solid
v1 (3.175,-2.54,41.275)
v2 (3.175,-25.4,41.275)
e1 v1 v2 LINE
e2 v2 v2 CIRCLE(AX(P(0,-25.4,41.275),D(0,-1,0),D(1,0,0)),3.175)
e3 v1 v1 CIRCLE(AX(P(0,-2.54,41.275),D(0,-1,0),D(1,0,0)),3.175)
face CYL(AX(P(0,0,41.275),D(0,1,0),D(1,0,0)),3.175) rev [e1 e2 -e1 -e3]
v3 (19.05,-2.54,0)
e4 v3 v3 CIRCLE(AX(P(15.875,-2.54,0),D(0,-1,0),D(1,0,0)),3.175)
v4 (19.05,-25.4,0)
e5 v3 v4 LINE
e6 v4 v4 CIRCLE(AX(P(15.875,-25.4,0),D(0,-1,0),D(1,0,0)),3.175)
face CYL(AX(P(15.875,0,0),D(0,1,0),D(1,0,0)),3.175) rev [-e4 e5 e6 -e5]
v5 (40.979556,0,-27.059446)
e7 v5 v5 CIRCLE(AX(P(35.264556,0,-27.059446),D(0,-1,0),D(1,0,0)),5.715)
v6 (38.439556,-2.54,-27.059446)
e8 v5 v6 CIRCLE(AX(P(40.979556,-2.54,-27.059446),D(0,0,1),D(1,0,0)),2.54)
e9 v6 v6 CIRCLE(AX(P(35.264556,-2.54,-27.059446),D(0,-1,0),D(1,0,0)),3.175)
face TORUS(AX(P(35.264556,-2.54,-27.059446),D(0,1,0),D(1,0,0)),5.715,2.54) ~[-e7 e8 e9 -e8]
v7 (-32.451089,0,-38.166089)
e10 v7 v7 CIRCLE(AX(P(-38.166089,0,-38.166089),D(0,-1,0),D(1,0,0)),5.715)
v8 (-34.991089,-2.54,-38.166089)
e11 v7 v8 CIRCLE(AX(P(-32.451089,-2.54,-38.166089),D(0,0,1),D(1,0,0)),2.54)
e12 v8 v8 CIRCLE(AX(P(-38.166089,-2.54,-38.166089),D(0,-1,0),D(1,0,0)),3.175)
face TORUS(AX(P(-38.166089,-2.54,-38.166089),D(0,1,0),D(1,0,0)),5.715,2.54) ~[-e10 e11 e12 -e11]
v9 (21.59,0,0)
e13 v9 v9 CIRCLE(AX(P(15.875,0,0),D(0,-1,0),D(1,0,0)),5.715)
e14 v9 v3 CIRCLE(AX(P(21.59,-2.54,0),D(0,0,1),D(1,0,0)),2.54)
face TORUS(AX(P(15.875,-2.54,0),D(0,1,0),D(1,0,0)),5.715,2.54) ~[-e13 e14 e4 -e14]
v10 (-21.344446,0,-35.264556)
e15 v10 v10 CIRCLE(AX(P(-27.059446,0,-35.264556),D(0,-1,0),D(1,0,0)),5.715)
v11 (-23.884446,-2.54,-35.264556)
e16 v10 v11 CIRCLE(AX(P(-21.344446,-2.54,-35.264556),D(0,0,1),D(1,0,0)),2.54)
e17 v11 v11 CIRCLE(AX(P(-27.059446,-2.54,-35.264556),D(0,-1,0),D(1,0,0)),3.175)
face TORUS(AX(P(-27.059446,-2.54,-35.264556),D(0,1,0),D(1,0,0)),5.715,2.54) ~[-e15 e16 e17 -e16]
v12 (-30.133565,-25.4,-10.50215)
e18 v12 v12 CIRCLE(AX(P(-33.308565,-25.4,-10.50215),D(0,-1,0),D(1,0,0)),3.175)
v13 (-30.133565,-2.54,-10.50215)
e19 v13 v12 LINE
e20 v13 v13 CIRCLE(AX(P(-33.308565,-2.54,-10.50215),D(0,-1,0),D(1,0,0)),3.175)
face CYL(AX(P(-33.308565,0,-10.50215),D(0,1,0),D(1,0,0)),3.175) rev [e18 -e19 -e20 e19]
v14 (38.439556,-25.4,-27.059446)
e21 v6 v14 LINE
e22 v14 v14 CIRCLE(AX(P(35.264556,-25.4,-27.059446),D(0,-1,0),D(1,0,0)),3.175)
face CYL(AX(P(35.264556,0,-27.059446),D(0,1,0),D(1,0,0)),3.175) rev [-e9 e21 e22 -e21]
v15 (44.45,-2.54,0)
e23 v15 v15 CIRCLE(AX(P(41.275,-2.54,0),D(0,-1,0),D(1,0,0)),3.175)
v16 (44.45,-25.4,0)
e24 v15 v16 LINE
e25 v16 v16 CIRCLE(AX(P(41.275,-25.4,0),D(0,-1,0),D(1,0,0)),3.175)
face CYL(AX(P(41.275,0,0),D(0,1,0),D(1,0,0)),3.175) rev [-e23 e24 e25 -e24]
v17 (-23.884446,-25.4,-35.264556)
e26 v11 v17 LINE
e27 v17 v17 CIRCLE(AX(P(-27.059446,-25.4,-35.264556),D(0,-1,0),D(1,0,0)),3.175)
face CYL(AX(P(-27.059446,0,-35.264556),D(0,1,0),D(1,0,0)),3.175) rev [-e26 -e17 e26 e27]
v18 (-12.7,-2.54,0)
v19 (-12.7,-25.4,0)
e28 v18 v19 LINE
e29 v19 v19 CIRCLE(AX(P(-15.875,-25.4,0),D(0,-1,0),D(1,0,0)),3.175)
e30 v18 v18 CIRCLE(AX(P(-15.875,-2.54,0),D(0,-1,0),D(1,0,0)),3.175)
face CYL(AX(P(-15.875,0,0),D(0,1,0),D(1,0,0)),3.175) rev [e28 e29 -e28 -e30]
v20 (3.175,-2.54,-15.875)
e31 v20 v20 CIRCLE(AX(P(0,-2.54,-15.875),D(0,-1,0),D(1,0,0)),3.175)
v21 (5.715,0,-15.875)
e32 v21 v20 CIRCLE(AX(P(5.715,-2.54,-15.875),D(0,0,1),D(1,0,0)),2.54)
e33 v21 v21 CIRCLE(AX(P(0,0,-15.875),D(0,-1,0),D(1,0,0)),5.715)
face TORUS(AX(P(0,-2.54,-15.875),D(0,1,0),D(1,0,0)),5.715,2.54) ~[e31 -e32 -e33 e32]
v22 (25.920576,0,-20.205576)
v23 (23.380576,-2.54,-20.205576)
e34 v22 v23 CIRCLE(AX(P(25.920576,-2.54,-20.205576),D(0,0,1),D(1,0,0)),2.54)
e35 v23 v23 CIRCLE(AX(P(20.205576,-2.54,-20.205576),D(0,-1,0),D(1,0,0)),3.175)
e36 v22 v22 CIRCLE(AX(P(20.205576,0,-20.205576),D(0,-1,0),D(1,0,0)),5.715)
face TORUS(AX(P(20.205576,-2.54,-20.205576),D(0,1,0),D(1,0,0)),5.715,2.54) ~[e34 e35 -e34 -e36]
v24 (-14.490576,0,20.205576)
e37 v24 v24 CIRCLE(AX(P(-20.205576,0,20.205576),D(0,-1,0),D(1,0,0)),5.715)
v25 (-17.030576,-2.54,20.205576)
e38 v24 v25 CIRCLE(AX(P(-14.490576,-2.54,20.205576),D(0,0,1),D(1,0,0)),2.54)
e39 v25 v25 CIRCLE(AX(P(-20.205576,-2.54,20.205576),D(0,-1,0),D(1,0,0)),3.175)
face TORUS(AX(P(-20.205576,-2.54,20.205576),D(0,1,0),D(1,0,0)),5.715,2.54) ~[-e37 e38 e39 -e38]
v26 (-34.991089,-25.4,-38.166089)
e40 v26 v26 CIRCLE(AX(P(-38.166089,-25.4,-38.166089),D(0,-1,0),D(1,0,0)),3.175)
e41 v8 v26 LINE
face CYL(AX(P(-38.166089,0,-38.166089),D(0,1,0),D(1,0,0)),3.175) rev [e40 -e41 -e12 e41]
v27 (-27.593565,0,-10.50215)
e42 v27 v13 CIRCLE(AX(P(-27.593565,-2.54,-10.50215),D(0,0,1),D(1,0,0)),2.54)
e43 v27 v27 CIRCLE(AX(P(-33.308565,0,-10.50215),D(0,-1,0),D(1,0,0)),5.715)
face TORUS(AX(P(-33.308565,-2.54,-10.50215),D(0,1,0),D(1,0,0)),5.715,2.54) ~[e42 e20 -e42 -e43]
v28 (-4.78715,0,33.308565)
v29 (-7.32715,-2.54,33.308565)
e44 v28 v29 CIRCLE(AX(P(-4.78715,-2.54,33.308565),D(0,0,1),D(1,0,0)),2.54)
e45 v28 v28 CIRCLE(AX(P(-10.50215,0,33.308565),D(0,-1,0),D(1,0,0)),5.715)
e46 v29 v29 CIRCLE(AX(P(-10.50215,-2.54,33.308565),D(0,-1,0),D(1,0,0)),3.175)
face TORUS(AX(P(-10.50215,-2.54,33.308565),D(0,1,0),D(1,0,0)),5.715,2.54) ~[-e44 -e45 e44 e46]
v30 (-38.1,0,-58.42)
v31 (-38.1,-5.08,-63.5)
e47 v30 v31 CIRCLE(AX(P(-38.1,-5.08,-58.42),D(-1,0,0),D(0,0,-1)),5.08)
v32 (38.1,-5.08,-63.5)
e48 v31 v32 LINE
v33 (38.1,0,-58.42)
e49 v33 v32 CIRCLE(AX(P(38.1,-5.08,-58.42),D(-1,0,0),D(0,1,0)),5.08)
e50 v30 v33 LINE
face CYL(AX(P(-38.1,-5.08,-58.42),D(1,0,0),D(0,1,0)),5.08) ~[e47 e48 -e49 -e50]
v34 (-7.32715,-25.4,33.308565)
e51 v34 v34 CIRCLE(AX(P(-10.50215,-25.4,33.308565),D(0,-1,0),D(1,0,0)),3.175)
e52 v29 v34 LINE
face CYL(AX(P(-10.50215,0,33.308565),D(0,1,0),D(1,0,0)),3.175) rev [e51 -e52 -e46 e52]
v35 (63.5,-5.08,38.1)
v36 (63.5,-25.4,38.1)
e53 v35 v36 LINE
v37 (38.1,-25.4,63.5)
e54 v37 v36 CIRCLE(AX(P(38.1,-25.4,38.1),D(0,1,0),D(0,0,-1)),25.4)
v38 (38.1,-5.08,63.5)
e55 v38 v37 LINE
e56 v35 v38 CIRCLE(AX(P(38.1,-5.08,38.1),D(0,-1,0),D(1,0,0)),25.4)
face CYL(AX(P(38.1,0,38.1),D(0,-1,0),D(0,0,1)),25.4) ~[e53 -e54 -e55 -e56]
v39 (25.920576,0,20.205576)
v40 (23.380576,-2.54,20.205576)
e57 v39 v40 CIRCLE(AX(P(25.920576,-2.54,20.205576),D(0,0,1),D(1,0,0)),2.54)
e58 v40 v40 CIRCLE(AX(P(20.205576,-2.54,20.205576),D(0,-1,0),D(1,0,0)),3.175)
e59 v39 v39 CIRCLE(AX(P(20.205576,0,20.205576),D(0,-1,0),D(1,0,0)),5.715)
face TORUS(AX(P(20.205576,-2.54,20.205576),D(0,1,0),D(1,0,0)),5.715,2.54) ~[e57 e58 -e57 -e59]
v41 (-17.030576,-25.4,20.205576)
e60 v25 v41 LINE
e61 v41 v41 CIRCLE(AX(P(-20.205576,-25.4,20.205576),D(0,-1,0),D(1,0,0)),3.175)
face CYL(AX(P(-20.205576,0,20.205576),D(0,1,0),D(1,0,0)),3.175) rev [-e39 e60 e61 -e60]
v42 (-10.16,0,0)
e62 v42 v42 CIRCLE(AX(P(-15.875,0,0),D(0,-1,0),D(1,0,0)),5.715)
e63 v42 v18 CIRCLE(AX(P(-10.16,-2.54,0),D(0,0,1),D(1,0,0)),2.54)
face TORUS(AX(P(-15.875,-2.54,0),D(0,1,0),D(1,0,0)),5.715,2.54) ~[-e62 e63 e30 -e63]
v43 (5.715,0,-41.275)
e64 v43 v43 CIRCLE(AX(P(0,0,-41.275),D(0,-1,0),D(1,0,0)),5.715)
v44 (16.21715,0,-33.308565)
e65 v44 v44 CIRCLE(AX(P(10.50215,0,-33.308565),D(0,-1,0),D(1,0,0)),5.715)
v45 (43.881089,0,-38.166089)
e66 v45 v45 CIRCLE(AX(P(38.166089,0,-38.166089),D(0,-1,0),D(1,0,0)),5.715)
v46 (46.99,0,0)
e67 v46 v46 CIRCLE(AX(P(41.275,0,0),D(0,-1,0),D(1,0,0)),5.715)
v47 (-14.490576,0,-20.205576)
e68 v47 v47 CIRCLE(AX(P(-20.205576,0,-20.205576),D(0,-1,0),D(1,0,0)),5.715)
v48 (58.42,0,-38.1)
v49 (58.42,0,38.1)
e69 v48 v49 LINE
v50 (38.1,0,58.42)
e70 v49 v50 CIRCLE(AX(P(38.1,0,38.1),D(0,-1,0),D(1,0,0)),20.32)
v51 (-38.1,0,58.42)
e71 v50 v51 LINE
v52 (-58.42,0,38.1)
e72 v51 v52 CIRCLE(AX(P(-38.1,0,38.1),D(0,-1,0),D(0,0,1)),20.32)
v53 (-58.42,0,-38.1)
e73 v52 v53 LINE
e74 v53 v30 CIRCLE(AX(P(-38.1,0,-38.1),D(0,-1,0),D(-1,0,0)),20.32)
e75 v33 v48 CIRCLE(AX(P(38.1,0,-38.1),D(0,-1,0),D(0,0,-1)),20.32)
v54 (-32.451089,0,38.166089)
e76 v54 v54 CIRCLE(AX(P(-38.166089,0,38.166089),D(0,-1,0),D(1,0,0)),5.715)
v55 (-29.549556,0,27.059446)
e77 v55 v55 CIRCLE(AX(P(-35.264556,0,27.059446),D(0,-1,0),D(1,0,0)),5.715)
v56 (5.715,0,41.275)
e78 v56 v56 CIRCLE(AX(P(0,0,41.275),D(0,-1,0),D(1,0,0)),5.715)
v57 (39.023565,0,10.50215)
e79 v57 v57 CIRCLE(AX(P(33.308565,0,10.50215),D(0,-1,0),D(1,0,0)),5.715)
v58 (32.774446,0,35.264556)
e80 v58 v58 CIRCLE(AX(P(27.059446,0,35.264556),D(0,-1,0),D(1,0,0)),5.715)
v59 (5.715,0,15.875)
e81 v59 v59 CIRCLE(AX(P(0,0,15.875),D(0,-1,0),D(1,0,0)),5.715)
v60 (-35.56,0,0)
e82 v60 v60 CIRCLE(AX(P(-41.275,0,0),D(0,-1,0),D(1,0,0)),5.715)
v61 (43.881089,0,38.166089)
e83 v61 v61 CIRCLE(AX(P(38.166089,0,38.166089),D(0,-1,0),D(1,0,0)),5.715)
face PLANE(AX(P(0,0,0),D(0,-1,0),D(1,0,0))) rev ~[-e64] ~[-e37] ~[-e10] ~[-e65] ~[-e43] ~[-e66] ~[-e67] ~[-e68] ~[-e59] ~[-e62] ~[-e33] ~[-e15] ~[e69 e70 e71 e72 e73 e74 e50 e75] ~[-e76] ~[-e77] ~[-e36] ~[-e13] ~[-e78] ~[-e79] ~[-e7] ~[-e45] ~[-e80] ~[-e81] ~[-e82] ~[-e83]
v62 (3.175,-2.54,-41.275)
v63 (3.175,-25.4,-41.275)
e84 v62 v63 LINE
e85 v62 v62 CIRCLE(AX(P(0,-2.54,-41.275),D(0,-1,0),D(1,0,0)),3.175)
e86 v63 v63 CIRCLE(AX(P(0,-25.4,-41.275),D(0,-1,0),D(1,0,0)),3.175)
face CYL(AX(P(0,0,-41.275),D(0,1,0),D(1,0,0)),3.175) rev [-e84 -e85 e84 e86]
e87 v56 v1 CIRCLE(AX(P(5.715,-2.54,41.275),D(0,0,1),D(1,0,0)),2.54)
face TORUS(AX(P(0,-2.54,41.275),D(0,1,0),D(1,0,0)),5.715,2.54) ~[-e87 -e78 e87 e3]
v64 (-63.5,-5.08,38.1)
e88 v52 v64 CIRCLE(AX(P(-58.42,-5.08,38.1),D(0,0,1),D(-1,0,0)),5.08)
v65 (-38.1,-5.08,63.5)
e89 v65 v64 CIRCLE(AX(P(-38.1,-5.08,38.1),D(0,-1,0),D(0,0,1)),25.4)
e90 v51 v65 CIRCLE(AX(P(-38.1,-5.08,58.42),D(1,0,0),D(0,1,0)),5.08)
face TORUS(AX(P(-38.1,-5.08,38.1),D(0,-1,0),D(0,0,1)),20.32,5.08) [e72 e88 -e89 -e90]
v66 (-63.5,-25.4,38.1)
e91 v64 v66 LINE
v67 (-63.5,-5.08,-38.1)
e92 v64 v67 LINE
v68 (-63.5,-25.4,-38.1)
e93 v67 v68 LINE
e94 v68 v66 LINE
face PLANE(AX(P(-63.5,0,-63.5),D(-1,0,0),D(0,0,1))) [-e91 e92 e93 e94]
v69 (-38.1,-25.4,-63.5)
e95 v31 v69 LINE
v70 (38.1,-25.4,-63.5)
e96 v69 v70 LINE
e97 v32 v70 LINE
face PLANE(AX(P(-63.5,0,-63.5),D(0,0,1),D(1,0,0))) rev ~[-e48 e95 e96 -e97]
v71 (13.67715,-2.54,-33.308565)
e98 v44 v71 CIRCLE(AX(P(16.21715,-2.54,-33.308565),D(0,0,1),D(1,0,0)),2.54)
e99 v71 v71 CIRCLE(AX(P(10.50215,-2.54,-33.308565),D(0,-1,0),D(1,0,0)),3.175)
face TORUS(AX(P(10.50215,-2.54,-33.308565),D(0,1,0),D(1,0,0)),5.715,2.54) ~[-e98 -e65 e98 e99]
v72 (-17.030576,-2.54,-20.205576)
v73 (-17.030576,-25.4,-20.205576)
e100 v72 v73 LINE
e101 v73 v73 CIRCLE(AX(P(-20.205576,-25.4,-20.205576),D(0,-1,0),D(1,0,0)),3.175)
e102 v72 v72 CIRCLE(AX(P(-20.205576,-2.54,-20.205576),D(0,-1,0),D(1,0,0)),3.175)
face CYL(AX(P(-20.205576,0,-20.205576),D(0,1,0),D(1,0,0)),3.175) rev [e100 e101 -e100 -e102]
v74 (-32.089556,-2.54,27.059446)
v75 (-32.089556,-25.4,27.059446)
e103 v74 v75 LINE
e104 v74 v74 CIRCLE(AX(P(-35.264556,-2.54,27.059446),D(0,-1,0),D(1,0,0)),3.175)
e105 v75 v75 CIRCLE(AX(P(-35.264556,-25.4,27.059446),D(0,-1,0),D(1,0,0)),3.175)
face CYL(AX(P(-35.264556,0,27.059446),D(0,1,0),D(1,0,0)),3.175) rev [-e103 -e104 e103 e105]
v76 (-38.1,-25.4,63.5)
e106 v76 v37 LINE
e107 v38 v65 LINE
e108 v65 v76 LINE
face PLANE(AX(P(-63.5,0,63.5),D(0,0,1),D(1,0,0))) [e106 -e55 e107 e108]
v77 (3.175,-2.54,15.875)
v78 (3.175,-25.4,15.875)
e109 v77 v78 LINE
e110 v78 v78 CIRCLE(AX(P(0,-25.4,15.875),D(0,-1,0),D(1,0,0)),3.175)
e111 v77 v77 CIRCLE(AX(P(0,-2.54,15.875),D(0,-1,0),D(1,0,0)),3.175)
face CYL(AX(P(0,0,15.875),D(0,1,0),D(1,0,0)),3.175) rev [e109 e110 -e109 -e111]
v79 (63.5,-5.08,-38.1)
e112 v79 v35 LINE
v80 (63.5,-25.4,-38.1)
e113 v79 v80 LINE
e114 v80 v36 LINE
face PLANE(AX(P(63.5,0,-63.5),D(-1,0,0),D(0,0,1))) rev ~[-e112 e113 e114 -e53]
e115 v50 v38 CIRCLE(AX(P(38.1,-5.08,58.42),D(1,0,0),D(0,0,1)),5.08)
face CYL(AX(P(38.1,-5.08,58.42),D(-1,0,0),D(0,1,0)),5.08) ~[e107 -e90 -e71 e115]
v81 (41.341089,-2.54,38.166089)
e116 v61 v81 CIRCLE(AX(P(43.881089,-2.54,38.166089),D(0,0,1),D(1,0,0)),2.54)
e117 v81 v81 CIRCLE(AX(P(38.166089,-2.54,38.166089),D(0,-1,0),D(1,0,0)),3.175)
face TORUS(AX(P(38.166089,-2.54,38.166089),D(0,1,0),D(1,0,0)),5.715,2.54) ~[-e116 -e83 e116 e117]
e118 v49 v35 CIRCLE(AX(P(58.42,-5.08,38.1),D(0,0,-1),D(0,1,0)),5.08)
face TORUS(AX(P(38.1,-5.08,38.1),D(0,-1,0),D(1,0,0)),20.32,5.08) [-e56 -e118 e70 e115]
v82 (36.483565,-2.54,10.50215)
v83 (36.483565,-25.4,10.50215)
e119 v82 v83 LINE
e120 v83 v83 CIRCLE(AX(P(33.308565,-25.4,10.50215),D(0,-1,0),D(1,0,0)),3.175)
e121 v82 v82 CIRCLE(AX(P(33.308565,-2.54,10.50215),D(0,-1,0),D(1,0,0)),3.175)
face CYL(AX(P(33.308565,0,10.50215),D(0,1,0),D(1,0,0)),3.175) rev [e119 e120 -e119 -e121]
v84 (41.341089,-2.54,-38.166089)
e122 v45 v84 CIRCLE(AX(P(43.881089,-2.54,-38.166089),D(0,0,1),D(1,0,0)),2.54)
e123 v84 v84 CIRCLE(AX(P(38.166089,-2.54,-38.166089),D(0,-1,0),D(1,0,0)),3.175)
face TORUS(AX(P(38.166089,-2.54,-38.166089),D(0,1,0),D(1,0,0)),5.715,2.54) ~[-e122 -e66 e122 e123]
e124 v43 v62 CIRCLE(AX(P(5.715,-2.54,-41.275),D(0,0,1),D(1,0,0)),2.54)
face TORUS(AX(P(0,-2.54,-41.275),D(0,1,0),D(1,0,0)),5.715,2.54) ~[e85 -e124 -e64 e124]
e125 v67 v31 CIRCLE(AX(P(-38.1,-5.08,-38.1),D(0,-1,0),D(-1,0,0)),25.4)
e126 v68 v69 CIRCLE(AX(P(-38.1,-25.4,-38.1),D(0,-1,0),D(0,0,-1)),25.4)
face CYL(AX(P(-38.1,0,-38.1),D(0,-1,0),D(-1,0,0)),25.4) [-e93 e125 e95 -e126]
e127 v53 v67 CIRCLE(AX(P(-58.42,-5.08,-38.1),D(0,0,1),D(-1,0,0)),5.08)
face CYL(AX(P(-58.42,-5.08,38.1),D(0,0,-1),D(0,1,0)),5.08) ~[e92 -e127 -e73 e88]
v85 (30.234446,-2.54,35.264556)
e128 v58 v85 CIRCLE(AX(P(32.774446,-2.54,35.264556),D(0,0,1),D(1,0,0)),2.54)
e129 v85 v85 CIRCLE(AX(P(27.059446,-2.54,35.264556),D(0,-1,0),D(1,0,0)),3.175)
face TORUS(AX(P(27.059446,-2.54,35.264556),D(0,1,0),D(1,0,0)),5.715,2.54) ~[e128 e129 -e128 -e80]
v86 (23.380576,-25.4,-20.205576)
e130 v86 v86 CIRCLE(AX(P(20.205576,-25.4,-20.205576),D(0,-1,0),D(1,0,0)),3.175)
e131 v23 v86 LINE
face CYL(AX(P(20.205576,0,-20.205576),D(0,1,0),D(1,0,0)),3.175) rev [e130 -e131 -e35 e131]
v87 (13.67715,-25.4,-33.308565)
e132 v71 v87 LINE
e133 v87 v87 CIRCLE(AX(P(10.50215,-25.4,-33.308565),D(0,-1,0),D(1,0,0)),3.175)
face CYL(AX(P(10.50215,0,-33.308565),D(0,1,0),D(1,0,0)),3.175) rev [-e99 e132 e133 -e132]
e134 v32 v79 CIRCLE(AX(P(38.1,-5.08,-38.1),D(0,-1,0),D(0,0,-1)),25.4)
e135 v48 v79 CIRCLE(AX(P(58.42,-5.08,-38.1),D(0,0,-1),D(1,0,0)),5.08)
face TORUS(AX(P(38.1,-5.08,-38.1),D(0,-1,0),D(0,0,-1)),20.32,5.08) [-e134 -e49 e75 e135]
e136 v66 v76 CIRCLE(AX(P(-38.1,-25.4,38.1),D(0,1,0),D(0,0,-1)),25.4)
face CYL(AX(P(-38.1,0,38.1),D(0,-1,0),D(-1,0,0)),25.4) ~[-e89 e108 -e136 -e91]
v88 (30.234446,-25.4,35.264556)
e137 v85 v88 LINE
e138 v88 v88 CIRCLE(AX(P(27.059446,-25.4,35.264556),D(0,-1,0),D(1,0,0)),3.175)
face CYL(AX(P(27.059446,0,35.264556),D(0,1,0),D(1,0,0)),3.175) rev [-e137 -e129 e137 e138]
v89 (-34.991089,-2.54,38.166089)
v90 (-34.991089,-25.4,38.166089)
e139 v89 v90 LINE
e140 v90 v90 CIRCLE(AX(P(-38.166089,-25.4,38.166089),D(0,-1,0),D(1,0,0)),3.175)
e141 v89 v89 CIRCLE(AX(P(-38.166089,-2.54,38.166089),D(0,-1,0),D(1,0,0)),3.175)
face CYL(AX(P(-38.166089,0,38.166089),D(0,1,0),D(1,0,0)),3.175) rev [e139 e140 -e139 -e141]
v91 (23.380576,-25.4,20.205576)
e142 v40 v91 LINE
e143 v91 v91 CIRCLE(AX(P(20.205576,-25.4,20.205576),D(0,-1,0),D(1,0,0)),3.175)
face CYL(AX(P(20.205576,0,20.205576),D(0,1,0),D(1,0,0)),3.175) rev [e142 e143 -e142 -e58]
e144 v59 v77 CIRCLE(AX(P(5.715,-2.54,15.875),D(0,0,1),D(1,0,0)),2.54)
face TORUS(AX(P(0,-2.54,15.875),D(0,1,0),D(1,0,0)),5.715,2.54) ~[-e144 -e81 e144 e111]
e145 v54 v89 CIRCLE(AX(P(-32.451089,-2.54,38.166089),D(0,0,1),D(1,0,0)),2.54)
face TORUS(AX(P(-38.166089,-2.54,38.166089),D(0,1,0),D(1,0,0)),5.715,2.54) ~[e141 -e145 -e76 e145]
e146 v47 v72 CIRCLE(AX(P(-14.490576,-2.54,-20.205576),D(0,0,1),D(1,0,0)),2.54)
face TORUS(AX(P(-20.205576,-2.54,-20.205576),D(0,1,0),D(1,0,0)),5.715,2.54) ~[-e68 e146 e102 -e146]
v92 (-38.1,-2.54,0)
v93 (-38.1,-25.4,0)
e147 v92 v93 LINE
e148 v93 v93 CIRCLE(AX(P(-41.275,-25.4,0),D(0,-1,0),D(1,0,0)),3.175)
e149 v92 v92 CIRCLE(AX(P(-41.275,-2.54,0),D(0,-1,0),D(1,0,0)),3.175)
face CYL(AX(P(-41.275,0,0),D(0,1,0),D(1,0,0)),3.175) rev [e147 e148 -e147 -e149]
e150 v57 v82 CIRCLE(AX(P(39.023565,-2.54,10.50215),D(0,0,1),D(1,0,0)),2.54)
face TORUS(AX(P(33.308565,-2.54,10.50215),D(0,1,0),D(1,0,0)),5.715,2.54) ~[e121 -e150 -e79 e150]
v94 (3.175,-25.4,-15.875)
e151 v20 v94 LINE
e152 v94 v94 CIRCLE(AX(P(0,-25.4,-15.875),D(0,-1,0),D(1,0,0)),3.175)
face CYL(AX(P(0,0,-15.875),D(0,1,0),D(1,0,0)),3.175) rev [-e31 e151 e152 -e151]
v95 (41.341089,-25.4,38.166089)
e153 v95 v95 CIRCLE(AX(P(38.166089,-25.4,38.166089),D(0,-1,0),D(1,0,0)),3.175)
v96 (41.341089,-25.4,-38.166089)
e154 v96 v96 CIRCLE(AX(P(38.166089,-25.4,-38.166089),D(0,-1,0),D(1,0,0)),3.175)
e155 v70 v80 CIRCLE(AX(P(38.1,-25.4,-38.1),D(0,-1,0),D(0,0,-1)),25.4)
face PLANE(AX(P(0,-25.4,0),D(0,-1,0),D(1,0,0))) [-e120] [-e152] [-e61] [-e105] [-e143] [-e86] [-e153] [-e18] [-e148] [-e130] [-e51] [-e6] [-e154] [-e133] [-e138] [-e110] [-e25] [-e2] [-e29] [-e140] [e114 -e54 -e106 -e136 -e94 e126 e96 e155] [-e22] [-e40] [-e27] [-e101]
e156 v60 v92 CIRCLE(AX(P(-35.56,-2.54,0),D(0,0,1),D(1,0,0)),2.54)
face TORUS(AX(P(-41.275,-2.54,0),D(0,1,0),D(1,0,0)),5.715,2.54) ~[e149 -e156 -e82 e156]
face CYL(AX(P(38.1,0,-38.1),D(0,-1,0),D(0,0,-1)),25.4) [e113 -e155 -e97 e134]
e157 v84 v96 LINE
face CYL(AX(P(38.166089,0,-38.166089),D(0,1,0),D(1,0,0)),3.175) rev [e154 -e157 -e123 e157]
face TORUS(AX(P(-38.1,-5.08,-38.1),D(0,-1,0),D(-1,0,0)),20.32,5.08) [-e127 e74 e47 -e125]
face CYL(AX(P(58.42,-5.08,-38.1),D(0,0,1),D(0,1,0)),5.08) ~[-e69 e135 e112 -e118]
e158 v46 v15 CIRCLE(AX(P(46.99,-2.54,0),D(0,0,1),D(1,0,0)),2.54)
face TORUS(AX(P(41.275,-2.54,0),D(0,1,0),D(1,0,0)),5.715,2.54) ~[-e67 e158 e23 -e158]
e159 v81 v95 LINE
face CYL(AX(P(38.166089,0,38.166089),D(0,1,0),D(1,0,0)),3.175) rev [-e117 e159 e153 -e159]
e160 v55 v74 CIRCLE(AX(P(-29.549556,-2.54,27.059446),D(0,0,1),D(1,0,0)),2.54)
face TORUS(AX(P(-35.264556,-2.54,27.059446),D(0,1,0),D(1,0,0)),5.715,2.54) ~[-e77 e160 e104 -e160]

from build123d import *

# Parameters (mm, degrees)
F0_W     = 127
F0_H     = 127
F0_R     = 3.175
F1_DEPTH = 25.4
F2_R     = 25.4
F3_R     = 5.08
F4_R     = 2.54


with BuildPart() as f1:
    # F0 (on Front) → F1 (new body)
    with BuildSketch(Plane.XZ):
        Rectangle(F0_W, F0_H)
        with Locations((-38.1660885145, -38.1660885145)):
            Circle(F0_R, mode=Mode.SUBTRACT)
        with Locations((-27.0594455194, -35.2645559759)):
            Circle(F0_R, mode=Mode.SUBTRACT)
        with Locations((-33.3085645049, -10.5021500477)):
            Circle(F0_R, mode=Mode.SUBTRACT)
        with Locations((-20.2055762724, -20.2055762724)):
            Circle(F0_R, mode=Mode.SUBTRACT)
        with Locations((0, -41.275)):
            Circle(F0_R, mode=Mode.SUBTRACT)
        with Locations((10.5021500477, -33.3085645049)):
            Circle(F0_R, mode=Mode.SUBTRACT)
        with Locations((38.1660885145, -38.1660885145)):
            Circle(F0_R, mode=Mode.SUBTRACT)
        with Locations((20.2055762724, -20.2055762724)):
            Circle(F0_R, mode=Mode.SUBTRACT)
        with Locations((0, -15.875)):
            Circle(F0_R, mode=Mode.SUBTRACT)
        with Locations((35.2645559759, -27.0594455194)):
            Circle(F0_R, mode=Mode.SUBTRACT)
        with Locations((-41.275, 0)):
            Circle(F0_R, mode=Mode.SUBTRACT)
        with Locations((-35.2645559759, 27.0594455194)):
            Circle(F0_R, mode=Mode.SUBTRACT)
        with Locations((-15.875, 0)):
            Circle(F0_R, mode=Mode.SUBTRACT)
        with Locations((-20.2055762724, 20.2055762724)):
            Circle(F0_R, mode=Mode.SUBTRACT)
        with Locations((-38.1660885145, 38.1660885145)):
            Circle(F0_R, mode=Mode.SUBTRACT)
        with Locations((-10.5021500477, 33.3085645049)):
            Circle(F0_R, mode=Mode.SUBTRACT)
        with Locations((15.875, 0)):
            Circle(F0_R, mode=Mode.SUBTRACT)
        with Locations((0, 15.875)):
            Circle(F0_R, mode=Mode.SUBTRACT)
        with Locations((20.2055762724, 20.2055762724)):
            Circle(F0_R, mode=Mode.SUBTRACT)
        with Locations((41.275, 0)):
            Circle(F0_R, mode=Mode.SUBTRACT)
        with Locations((33.3085645049, 10.5021500477)):
            Circle(F0_R, mode=Mode.SUBTRACT)
        with Locations((0, 41.275)):
            Circle(F0_R, mode=Mode.SUBTRACT)
        with Locations((27.0594455194, 35.2645559759)):
            Circle(F0_R, mode=Mode.SUBTRACT)
        with Locations((38.1660885145, 38.1660885145)):
            Circle(F0_R, mode=Mode.SUBTRACT)
    extrude(amount=F1_DEPTH)

    # F2
    f2_edges = [f1.edges().sort_by_distance(p)[0] for p in [
        (-63.5, -12.7, -63.5),
        (-63.5, -12.7, 63.5),
        (63.5, -12.7, 63.5),
        (63.5, -12.7, -63.5),
    ]]
    fillet(f2_edges, radius=F2_R)

    # F3
    f3_edges = [f1.edges().sort_by_distance(p)[0] for p in [
        (-56.060512, 0, -56.060512),
        (0, 0, -63.5),
        (56.060512, 0, -56.060512),
        (63.5, 0, 0),
        (-63.5, 0, 0),
        (-56.060512, 0, 56.060512),
        (0, 0, 63.5),
        (56.060512, 0, 56.060512),
    ]]
    fillet(f3_edges, radius=F3_R)

    # F4
    f4_edges = [f1.edges().sort_by_distance(p)[0] for p in [
        (-41.341089, 0, -38.166089),
        (-30.234446, 0, -35.264556),
        (-3.175, 0, -41.275),
        (7.32715, 0, -33.308565),
        (34.991089, 0, -38.166089),
        (32.089556, 0, -27.059446),
        (17.030576, 0, -20.205576),
        (-3.175, 0, -15.875),
        (-23.380576, 0, -20.205576),
        (-36.483565, 0, -10.50215),
        (-44.45, 0, 0),
        (-19.05, 0, 0),
        (12.7, 0, 0),
        (38.1, 0, 0),
        (30.133565, 0, 10.50215),
        (17.030576, 0, 20.205576),
        (23.884446, 0, 35.264556),
        (34.991089, 0, 38.166089),
        (-3.175, 0, 15.875),
        (-13.67715, 0, 33.308565),
        (-3.175, 0, 41.275),
        (-23.380576, 0, 20.205576),
        (-38.439556, 0, 27.059446),
        (-41.341089, 0, 38.166089),
    ]]
    fillet(f4_edges, radius=F4_R)


solid = f1.part
